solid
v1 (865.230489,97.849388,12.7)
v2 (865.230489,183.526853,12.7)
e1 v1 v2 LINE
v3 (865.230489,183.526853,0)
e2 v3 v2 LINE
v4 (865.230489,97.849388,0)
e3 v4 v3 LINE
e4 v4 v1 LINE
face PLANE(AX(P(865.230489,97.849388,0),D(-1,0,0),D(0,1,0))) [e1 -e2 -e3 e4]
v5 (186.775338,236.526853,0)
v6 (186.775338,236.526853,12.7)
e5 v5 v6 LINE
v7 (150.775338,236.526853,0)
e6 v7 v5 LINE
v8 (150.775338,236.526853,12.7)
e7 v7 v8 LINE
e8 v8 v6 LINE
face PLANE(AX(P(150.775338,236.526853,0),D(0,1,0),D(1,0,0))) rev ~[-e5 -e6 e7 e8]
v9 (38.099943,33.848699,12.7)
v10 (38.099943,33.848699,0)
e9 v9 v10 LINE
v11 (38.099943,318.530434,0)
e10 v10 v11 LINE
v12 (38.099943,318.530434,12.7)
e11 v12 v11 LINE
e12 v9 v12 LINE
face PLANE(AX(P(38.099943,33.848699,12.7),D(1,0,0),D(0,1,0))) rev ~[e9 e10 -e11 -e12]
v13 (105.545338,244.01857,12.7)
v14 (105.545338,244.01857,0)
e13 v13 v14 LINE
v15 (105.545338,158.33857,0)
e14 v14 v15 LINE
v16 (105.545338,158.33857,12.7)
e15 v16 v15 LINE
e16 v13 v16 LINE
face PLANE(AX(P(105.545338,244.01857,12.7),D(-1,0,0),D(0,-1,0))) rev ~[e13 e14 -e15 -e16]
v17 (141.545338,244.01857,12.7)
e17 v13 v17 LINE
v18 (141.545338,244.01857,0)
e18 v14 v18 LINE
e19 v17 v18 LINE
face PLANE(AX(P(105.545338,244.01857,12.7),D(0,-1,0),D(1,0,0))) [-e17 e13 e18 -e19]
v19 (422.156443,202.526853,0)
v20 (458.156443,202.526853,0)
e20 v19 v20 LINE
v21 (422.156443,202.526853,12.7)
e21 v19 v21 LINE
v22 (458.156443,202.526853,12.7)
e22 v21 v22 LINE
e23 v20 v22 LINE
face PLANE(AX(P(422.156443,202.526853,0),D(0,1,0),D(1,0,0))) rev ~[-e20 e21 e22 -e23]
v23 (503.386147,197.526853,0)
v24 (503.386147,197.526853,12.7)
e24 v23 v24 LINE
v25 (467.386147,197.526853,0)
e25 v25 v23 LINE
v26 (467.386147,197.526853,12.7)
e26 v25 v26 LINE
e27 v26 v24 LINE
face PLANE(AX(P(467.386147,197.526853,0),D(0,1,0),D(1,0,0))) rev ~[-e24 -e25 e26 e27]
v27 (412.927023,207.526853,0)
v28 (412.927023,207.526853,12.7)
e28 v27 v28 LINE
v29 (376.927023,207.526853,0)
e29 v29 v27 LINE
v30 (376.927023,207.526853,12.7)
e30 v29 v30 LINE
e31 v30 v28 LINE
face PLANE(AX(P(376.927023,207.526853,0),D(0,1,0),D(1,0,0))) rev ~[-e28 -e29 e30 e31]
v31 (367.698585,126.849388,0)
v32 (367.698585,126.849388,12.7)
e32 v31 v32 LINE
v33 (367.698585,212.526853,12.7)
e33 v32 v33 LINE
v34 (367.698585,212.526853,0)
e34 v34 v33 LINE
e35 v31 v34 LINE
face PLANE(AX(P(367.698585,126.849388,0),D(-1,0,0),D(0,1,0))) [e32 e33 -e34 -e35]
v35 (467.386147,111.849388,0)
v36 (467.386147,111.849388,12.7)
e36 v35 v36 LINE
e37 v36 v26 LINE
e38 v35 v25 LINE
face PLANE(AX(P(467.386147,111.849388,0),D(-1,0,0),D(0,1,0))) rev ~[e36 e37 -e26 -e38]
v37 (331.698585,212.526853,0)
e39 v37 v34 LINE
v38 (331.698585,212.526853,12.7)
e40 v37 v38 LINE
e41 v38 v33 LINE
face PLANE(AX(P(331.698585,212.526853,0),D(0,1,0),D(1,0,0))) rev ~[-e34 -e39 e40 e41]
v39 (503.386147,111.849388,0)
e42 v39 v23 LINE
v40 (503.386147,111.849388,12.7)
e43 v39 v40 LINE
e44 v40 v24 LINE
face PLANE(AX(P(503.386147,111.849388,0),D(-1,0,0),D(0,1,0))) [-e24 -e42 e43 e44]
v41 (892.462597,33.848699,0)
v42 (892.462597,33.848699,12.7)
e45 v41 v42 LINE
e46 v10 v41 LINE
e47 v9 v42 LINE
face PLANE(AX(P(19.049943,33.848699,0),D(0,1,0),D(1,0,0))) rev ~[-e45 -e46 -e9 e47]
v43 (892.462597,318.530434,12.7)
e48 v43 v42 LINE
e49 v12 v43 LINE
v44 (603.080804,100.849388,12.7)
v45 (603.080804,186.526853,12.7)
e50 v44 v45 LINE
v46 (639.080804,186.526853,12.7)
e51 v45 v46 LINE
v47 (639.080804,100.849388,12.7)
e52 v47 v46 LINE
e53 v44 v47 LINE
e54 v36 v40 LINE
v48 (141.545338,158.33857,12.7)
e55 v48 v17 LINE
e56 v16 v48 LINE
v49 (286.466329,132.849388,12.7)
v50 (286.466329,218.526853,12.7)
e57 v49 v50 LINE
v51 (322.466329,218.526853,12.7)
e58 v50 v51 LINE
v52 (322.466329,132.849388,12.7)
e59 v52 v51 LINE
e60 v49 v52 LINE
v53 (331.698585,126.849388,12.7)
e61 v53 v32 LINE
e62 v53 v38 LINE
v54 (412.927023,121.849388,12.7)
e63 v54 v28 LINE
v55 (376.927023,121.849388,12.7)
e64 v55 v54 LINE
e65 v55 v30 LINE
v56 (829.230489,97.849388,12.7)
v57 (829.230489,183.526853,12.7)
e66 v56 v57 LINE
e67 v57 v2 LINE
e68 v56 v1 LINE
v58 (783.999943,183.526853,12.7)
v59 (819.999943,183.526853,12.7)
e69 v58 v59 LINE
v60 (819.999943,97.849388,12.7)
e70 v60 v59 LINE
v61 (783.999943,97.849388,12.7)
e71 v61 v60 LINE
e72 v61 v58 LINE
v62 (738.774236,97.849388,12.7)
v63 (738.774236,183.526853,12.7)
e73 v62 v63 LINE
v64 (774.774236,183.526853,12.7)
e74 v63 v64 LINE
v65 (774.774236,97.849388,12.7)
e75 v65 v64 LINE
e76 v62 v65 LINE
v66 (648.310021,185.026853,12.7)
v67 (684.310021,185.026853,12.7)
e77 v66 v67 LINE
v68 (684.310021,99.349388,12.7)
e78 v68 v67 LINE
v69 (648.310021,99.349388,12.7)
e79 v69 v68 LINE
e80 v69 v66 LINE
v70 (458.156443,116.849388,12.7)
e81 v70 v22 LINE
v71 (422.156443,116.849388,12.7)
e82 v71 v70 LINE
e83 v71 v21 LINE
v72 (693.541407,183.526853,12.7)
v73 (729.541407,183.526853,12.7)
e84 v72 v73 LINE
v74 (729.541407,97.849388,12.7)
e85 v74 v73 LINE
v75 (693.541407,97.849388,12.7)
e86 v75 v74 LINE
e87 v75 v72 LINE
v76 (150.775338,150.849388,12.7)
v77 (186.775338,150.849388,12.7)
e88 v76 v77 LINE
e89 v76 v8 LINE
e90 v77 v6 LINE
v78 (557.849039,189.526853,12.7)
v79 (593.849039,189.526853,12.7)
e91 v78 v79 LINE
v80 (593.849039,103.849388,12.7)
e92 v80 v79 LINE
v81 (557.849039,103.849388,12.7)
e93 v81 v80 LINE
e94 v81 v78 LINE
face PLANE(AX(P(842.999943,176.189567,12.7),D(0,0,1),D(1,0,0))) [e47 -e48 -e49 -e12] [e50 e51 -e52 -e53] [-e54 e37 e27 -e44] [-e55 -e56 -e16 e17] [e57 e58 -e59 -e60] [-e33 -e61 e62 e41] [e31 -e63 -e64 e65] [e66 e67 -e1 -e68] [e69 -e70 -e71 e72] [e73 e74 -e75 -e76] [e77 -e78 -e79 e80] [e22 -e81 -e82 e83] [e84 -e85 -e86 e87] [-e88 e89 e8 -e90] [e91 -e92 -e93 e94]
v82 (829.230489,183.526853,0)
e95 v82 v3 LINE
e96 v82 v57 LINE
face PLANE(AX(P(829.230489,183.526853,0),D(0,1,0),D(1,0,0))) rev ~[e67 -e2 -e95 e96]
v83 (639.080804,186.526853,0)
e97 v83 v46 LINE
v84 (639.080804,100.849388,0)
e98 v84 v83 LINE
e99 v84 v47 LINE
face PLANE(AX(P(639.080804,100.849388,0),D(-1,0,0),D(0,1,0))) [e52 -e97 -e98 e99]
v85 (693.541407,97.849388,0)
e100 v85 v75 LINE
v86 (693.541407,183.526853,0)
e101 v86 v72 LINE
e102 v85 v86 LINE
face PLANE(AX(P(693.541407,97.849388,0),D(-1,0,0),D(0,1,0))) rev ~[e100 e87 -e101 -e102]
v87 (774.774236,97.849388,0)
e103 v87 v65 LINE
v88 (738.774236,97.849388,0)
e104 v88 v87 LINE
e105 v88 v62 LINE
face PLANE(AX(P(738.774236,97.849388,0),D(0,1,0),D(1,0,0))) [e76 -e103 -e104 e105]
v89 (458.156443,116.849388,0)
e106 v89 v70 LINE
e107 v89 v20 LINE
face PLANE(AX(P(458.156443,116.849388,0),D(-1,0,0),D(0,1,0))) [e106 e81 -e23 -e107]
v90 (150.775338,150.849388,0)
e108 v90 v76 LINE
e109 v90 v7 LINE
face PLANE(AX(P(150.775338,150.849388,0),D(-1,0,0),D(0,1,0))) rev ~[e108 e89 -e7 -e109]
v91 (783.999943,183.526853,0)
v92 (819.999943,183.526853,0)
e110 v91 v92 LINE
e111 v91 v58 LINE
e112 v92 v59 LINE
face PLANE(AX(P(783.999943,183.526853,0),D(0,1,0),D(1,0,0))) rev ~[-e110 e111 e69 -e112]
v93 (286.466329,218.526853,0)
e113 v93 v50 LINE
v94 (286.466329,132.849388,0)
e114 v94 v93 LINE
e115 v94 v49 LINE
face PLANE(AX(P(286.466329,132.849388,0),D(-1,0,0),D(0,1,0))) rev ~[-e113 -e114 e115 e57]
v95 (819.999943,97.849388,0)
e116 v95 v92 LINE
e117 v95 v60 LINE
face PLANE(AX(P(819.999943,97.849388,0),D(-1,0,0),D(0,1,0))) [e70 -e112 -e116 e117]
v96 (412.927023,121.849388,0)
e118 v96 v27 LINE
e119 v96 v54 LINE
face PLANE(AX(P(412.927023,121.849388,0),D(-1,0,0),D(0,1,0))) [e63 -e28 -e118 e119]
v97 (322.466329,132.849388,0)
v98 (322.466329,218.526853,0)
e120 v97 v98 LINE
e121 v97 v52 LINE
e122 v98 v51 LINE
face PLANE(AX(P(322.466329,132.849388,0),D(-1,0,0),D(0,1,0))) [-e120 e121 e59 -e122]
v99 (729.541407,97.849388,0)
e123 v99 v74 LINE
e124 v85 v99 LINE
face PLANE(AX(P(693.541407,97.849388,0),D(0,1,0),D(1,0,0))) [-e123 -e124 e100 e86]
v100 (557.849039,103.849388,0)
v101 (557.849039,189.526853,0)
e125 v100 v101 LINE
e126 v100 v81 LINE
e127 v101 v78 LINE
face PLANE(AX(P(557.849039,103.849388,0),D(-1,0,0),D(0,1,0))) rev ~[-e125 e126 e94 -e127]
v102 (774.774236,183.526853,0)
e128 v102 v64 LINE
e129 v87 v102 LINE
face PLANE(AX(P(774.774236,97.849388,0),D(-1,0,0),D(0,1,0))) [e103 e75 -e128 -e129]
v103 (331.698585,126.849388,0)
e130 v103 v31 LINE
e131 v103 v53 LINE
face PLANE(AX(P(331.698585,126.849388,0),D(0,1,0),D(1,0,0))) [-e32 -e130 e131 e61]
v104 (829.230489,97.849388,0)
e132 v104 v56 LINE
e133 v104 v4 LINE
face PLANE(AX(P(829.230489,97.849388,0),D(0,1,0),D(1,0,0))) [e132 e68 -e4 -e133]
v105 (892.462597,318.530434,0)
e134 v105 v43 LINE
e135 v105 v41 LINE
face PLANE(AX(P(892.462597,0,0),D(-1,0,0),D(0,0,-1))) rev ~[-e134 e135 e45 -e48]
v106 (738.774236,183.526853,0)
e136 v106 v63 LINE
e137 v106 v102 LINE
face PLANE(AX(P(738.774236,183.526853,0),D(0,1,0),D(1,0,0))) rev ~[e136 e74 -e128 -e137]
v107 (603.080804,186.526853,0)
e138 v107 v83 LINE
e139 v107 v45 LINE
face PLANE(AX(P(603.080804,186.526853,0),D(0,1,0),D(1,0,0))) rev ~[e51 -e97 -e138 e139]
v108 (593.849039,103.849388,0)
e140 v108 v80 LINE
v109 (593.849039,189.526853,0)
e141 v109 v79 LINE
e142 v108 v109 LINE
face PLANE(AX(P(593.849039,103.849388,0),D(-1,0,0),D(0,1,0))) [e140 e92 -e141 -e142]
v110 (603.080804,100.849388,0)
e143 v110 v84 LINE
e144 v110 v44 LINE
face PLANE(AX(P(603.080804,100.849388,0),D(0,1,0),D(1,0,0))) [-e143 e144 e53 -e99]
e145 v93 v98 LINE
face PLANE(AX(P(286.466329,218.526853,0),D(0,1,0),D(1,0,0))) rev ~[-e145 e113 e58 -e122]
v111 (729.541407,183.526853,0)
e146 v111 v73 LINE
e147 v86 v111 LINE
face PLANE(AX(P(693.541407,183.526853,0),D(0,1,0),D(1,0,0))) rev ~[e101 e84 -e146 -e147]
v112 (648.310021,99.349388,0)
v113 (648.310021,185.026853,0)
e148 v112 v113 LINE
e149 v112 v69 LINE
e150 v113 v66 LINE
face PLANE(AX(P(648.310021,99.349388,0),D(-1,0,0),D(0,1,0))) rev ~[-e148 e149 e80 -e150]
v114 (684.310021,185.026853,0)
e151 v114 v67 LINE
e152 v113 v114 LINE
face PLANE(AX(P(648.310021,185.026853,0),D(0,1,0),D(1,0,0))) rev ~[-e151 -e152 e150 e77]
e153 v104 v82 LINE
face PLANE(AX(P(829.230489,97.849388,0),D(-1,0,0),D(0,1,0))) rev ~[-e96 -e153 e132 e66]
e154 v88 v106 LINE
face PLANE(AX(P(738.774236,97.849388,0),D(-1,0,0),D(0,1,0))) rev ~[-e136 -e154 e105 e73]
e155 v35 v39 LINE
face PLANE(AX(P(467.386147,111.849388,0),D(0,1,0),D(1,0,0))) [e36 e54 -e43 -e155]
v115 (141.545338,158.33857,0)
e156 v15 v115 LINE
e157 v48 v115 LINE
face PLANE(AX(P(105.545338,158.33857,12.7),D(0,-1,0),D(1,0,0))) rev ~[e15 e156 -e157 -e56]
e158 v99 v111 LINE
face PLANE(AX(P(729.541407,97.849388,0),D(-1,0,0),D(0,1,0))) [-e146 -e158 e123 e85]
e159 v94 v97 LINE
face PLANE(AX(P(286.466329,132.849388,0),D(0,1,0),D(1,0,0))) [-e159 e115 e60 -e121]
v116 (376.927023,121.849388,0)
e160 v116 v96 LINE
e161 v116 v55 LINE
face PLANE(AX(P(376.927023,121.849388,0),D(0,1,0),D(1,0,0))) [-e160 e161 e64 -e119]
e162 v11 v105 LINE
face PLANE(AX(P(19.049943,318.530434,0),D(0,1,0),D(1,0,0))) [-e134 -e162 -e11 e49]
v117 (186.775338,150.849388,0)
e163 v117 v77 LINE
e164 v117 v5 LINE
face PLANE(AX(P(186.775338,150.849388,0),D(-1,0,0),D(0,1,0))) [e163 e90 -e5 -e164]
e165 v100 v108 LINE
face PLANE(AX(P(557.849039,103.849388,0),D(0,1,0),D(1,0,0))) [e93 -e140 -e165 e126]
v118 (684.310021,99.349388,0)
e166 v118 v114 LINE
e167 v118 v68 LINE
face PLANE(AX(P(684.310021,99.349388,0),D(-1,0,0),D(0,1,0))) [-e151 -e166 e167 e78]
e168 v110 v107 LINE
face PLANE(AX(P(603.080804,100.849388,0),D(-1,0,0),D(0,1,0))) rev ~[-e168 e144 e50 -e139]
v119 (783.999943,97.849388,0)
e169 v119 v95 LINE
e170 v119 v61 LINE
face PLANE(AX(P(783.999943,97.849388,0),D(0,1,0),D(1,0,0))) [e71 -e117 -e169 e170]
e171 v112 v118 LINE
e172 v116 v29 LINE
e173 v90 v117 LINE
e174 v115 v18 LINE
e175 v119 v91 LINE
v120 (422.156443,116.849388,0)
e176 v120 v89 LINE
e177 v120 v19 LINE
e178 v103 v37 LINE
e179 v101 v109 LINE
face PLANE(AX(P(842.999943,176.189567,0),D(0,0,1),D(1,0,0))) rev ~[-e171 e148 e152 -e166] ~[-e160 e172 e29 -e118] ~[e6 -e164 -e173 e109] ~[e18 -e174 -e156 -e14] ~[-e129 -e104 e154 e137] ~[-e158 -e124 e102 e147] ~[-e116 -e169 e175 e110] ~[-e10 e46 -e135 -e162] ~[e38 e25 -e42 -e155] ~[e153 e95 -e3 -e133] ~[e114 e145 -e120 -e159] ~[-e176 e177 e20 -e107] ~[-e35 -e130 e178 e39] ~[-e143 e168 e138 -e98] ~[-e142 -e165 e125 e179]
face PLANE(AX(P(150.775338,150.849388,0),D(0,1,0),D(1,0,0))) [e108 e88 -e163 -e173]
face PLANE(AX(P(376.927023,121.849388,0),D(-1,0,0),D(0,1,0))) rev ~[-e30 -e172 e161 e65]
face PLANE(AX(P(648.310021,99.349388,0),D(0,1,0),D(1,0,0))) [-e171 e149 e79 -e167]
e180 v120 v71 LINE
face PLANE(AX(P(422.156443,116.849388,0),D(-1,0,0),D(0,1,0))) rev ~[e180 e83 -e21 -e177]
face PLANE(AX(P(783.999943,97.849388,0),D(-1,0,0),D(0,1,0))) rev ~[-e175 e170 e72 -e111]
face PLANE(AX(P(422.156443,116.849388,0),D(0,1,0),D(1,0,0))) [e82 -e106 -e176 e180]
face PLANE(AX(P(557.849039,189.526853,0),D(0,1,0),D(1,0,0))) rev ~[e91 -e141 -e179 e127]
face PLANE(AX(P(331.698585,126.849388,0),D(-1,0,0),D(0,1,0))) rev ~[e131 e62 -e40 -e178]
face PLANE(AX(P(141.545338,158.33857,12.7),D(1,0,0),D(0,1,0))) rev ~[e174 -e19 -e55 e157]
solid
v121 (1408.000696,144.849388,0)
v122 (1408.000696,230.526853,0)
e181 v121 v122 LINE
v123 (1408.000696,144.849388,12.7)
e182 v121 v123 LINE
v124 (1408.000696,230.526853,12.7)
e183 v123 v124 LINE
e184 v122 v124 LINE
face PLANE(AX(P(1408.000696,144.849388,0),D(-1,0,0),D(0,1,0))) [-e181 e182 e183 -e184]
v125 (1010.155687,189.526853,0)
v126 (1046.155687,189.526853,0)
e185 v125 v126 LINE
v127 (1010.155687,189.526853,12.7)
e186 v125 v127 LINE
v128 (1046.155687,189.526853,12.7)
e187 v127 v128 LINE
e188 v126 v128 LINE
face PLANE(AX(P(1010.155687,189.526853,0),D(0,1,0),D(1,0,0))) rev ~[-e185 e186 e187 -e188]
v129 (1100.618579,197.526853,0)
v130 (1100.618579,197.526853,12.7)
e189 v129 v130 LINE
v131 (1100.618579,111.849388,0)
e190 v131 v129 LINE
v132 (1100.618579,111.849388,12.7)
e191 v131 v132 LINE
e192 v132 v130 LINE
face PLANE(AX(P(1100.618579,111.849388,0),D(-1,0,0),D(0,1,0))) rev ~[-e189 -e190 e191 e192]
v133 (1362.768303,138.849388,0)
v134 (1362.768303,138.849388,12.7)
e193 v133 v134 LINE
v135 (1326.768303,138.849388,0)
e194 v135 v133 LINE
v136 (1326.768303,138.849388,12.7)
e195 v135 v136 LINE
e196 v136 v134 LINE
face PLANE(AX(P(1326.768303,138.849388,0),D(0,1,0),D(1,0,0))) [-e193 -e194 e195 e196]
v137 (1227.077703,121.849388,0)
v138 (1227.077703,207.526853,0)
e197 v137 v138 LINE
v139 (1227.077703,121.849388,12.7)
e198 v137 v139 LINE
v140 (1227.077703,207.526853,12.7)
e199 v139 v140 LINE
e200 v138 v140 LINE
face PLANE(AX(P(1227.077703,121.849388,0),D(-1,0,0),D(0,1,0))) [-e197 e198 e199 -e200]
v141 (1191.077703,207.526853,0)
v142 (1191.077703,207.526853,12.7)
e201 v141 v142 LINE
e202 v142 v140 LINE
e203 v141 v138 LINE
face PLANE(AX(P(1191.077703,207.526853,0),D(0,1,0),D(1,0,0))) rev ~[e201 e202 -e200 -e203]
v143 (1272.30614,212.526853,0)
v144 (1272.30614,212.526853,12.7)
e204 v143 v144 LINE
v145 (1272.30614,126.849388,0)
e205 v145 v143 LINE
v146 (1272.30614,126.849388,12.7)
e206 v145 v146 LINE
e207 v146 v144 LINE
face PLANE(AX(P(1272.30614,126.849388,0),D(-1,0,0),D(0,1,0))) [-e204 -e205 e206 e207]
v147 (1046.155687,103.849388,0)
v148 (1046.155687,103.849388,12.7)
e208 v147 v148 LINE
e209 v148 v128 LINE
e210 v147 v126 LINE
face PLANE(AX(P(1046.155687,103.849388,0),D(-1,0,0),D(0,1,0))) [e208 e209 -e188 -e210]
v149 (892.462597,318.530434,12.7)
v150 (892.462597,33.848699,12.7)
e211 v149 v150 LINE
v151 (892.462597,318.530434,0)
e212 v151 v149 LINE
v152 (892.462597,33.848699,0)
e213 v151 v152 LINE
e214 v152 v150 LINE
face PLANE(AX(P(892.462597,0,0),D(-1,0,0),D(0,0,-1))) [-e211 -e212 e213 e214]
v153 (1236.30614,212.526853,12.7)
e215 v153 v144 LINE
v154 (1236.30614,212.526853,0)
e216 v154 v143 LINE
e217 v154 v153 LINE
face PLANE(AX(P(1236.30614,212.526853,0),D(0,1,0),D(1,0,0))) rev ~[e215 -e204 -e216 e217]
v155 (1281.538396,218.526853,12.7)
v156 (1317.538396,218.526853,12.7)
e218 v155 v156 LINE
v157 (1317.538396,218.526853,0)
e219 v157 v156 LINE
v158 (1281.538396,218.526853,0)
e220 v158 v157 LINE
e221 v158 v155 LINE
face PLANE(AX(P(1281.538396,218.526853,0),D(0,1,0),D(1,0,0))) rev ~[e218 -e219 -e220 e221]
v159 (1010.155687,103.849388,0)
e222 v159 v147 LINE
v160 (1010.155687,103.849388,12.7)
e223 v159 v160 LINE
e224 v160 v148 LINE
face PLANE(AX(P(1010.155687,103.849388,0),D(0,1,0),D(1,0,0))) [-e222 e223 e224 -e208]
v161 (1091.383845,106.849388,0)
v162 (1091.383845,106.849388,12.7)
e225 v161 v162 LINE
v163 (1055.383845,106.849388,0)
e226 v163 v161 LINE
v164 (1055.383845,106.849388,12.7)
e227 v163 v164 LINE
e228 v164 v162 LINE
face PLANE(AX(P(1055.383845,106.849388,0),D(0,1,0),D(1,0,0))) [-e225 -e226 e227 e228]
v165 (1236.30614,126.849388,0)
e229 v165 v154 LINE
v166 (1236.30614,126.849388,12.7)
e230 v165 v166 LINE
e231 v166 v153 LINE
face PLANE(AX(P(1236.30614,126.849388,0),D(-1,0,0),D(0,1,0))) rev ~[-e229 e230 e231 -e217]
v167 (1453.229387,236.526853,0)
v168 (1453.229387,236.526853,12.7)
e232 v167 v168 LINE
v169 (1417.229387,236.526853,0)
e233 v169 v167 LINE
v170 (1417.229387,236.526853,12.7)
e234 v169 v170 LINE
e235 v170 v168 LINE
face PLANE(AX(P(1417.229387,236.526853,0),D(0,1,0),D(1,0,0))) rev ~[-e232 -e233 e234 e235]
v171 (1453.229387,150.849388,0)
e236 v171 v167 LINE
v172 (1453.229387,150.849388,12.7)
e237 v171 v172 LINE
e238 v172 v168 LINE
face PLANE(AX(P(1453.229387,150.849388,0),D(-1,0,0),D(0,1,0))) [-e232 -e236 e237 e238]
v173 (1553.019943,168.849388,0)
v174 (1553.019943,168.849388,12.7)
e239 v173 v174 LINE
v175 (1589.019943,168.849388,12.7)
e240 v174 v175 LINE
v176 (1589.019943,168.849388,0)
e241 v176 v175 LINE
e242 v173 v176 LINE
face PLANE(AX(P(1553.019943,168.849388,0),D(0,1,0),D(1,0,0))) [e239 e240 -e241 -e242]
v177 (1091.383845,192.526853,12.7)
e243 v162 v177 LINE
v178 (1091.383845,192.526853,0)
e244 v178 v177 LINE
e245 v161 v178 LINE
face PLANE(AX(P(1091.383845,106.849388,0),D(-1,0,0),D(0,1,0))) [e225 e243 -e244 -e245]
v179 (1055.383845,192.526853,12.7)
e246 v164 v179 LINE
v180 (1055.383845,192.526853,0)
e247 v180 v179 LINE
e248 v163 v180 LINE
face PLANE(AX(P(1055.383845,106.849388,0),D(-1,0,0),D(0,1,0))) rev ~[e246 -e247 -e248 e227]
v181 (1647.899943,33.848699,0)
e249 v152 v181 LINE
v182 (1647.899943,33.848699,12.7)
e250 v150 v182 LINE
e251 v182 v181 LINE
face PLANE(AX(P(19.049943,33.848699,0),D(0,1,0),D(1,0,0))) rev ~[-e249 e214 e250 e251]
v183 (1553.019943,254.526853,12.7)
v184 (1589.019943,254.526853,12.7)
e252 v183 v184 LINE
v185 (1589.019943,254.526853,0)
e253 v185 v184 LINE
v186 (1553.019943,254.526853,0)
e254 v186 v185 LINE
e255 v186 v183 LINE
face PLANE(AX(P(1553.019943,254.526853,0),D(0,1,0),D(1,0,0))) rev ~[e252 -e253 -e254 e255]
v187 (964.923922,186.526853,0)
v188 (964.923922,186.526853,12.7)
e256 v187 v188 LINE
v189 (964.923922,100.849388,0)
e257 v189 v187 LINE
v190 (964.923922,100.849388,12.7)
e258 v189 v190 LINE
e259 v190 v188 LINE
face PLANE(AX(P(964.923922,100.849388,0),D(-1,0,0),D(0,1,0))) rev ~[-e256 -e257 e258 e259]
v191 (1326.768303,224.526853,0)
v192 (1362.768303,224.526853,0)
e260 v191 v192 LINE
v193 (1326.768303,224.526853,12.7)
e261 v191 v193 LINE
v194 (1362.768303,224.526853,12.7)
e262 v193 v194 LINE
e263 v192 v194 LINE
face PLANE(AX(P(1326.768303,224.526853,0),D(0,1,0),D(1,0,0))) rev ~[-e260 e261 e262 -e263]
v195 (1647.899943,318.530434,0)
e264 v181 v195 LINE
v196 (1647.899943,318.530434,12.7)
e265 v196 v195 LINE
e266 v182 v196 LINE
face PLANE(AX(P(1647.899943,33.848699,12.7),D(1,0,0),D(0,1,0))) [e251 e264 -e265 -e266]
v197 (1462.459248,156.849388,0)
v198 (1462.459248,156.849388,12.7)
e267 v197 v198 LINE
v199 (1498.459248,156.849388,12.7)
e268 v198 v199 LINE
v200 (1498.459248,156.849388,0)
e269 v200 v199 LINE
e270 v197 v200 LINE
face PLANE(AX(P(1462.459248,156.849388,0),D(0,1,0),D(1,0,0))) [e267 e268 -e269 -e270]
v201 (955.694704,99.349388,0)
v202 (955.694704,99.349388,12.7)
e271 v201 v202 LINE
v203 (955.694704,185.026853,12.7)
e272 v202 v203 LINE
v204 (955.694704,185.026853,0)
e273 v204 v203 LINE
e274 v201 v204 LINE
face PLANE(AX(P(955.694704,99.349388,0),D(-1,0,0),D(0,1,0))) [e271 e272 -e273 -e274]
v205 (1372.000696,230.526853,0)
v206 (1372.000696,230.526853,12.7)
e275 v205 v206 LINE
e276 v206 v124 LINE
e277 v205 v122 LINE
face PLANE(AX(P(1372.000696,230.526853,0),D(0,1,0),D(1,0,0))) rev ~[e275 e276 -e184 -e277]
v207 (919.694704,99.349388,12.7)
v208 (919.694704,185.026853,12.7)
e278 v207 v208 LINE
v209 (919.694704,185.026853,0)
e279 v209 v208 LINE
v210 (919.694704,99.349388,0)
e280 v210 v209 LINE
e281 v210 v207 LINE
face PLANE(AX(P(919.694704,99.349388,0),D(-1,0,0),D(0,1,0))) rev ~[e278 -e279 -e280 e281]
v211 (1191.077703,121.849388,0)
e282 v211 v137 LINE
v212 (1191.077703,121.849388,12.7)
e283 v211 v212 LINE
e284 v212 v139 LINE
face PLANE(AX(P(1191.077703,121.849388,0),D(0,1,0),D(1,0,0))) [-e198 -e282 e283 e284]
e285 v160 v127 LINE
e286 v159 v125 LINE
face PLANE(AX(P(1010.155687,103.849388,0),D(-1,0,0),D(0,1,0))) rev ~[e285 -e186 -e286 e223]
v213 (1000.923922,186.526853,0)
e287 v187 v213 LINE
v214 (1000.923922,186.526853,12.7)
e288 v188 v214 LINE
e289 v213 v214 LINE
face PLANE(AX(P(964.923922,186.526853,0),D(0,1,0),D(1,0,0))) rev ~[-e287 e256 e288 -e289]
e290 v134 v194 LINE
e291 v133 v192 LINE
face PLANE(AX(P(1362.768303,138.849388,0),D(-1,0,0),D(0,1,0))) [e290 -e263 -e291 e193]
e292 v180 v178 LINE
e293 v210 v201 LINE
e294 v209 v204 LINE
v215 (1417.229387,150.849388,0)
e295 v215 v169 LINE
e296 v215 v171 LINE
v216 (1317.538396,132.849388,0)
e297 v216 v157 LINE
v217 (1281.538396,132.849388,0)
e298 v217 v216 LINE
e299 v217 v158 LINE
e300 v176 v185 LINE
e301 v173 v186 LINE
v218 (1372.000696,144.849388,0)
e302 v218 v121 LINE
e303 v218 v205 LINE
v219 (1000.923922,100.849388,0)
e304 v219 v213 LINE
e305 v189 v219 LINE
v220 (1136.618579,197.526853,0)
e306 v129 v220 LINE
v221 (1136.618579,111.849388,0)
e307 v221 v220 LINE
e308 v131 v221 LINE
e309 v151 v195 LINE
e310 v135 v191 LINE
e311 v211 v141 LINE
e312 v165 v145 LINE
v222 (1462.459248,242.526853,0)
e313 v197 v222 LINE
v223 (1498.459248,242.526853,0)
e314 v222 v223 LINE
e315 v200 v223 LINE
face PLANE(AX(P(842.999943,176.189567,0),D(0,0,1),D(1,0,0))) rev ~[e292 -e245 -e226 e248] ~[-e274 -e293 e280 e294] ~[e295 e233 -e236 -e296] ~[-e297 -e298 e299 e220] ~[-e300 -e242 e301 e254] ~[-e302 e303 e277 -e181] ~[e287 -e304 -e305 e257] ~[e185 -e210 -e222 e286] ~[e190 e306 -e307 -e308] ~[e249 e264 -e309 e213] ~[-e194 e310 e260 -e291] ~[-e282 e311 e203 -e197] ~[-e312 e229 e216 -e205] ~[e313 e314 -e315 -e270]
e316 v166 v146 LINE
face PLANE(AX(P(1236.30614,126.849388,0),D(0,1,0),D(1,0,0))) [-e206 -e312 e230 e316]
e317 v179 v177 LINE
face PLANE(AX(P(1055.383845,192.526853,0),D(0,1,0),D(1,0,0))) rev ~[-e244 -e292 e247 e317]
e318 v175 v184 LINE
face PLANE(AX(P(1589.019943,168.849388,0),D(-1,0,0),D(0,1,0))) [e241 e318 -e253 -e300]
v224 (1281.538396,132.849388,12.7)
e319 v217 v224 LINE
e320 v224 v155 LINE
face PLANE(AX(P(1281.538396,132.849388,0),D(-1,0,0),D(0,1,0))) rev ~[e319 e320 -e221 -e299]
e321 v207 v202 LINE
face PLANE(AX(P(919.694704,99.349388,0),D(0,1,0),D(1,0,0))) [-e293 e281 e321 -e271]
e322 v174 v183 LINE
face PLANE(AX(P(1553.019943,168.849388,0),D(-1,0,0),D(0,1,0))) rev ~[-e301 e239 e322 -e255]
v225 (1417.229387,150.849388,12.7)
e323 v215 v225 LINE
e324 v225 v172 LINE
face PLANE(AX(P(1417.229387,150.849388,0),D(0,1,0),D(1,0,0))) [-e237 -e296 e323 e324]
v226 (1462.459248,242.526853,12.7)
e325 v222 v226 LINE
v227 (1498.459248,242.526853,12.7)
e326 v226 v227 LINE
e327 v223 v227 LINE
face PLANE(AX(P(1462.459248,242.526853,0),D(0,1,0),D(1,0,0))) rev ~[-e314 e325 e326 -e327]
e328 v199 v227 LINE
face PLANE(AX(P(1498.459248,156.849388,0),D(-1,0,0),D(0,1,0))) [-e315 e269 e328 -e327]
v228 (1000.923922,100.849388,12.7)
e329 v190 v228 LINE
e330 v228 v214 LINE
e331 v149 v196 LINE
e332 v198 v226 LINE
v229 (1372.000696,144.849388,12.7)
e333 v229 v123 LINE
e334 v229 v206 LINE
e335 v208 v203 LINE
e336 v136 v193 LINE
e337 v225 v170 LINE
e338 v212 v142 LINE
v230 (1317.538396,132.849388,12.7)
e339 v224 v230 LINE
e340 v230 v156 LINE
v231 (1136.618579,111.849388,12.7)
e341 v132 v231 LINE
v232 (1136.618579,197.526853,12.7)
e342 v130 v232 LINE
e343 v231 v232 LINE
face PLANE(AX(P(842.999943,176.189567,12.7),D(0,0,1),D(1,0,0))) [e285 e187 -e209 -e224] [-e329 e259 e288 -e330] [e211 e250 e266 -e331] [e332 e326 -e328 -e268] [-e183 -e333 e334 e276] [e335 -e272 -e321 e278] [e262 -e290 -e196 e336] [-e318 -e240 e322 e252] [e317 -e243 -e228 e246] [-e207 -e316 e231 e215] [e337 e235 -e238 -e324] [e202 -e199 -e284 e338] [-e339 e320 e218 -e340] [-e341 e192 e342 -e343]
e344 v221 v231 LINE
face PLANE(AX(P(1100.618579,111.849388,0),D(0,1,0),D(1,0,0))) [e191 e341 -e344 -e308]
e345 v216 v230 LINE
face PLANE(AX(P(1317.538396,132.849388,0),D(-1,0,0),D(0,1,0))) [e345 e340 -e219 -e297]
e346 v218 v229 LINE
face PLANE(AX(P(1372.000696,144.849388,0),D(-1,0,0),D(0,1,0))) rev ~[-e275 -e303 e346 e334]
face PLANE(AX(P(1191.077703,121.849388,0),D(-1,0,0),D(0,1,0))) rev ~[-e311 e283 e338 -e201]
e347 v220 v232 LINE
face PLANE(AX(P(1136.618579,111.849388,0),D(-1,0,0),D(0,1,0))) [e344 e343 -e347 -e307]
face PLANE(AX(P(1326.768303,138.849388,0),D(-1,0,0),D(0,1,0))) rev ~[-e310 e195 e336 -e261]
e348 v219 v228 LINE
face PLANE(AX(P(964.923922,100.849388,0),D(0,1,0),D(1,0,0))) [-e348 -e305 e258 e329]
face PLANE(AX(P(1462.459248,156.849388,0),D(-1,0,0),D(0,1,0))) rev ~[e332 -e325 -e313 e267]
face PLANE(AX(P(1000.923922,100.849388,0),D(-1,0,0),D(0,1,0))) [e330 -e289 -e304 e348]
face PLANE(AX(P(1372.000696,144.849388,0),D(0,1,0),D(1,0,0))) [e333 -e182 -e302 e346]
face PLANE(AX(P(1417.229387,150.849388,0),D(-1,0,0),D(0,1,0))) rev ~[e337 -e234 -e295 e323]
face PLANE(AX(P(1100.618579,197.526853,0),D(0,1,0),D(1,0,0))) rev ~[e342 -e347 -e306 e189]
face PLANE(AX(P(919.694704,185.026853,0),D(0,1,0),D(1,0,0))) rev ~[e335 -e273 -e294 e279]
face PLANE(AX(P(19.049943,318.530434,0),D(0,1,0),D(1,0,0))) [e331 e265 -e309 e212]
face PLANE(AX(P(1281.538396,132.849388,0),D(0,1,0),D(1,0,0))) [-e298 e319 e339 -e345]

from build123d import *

# Parameters (mm, degrees)
SKETCH2_W           = 1647.9
SKETCH2_H           = 284.681734848
SKETCH2_W_2         = 36
SKETCH2_H_2         = 85.677465121
BOSS_EXTRUDE1_DEPTH = 12.7
SKETCH3_W           = 19.05
SKETCH3_H           = 284.681734848
CUT_EXTRUDE1_DEPTH  = 13.7
SKETCH4_W           = 36
SKETCH4_H           = 50.330449982
SKETCH4_H_2         = 35.349550018
CUT_EXTRUDE2_DEPTH  = 13.7


with BuildPart() as part:
    # Sketch2 → Boss-Extrude1 (new body)
    with BuildSketch(Plane.XY):
        with Locations((842.999943303, 176.189566708)):
            Rectangle(SKETCH2_W, SKETCH2_H)
        with Locations((1571.01994314, 211.688120447)):
            Rectangle(SKETCH2_W_2, SKETCH2_H_2, mode=Mode.SUBTRACT)
        with Locations((1480.459247559, 199.688120447)):
            Rectangle(SKETCH2_W_2, SKETCH2_H_2, mode=Mode.SUBTRACT)
        with Locations((1435.229386921, 193.688120447)):
            Rectangle(SKETCH2_W_2, SKETCH2_H_2, mode=Mode.SUBTRACT)
        with Locations((1390.000695887, 187.688120447)):
            Rectangle(SKETCH2_W_2, SKETCH2_H_2, mode=Mode.SUBTRACT)
        with Locations((1344.768303255, 181.688120447)):
            Rectangle(SKETCH2_W_2, SKETCH2_H_2, mode=Mode.SUBTRACT)
        with Locations((1299.538396377, 175.688120447)):
            Rectangle(SKETCH2_W_2, SKETCH2_H_2, mode=Mode.SUBTRACT)
        with Locations((1254.306140471, 169.688120446)):
            Rectangle(SKETCH2_W_2, SKETCH2_H_2, mode=Mode.SUBTRACT)
        with Locations((1209.07770281, 164.688120446)):
            Rectangle(SKETCH2_W_2, SKETCH2_H_2, mode=Mode.SUBTRACT)
        with Locations((1118.618578512, 154.688120446)):
            Rectangle(SKETCH2_W_2, SKETCH2_H_2, mode=Mode.SUBTRACT)
        with Locations((1073.383844827, 149.688120446)):
            Rectangle(SKETCH2_W_2, SKETCH2_H_2, mode=Mode.SUBTRACT)
        with Locations((1028.155686863, 146.688120446)):
            Rectangle(SKETCH2_W_2, SKETCH2_H_2, mode=Mode.SUBTRACT)
        with Locations((982.9239215, 143.688120446)):
            Rectangle(SKETCH2_W_2, SKETCH2_H_2, mode=Mode.SUBTRACT)
        with Locations((937.694704034, 142.188120446)):
            Rectangle(SKETCH2_W_2, SKETCH2_H_2, mode=Mode.SUBTRACT)
        with Locations((847.230489128, 140.688120446)):
            Rectangle(SKETCH2_W_2, SKETCH2_H_2, mode=Mode.SUBTRACT)
        with Locations((801.999943303, 140.688120446)):
            Rectangle(SKETCH2_W_2, SKETCH2_H_2, mode=Mode.SUBTRACT)
        with Locations((756.774236257, 140.688120446)):
            Rectangle(SKETCH2_W_2, SKETCH2_H_2, mode=Mode.SUBTRACT)
        with Locations((711.541406556, 140.688120446)):
            Rectangle(SKETCH2_W_2, SKETCH2_H_2, mode=Mode.SUBTRACT)
        with Locations((666.310021351, 142.188120446)):
            Rectangle(SKETCH2_W_2, SKETCH2_H_2, mode=Mode.SUBTRACT)
        with Locations((621.080803885, 143.688120446)):
            Rectangle(SKETCH2_W_2, SKETCH2_H_2, mode=Mode.SUBTRACT)
        with Locations((575.849038522, 146.688120446)):
            Rectangle(SKETCH2_W_2, SKETCH2_H_2, mode=Mode.SUBTRACT)
        with Locations((485.386146872, 154.688120446)):
            Rectangle(SKETCH2_W_2, SKETCH2_H_2, mode=Mode.SUBTRACT)
        with Locations((304.466329007, 175.688120447)):
            Rectangle(SKETCH2_W_2, SKETCH2_H_2, mode=Mode.SUBTRACT)
        with Locations((440.15644292, 159.688120446)):
            Rectangle(SKETCH2_W_2, SKETCH2_H_2, mode=Mode.SUBTRACT)
        with Locations((394.927022575, 164.688120446)):
            Rectangle(SKETCH2_W_2, SKETCH2_H_2, mode=Mode.SUBTRACT)
        with Locations((349.698584914, 169.688120446)):
            Rectangle(SKETCH2_W_2, SKETCH2_H_2, mode=Mode.SUBTRACT)
        with Locations((168.775338464, 193.688120447)):
            Rectangle(SKETCH2_W_2, SKETCH2_H_2, mode=Mode.SUBTRACT)
    extrude(amount=BOSS_EXTRUDE1_DEPTH)

    # Sketch3 → Cut-Extrude1 (cut, through all)
    with BuildSketch(Plane.XY.offset(12.7)):
        with Locations((1657.424943303, 176.189566708)):
            Rectangle(SKETCH3_W, SKETCH3_H)
        with Locations((28.574943303, 176.189566708)):
            Rectangle(SKETCH3_W, SKETCH3_H)
    extrude(amount=-CUT_EXTRUDE1_DEPTH, mode=Mode.SUBTRACT)

    # Sketch4 → Cut-Extrude2 (cut, through all)
    with BuildSketch(Plane.XY.offset(12.7)):
        with Locations((123.545338464, 218.853345438)):
            Rectangle(SKETCH4_W, SKETCH4_H)
        with Locations((123.545338464, 176.013345438)):
            Rectangle(SKETCH4_W, SKETCH4_H_2)
    extrude(amount=-CUT_EXTRUDE2_DEPTH, mode=Mode.SUBTRACT)


with BuildPart() as body_2:
    # Split1: the piece on the far side of the plane
    add(part.part)
    split(bisect_by=Plane(origin=(892.462596581, 0, 0), x_dir=(0, 0, -1), z_dir=(-1, 0, 0)), keep=Keep.BOTTOM)


with BuildPart() as part_1:
    add(part.part)

    # Split1
    split(bisect_by=Plane(origin=(892.462596581, 0, 0), x_dir=(0, 0, -1), z_dir=(-1, 0, 0)), keep=Keep.TOP)


solid = Compound([body_2.part, part_1.part])
